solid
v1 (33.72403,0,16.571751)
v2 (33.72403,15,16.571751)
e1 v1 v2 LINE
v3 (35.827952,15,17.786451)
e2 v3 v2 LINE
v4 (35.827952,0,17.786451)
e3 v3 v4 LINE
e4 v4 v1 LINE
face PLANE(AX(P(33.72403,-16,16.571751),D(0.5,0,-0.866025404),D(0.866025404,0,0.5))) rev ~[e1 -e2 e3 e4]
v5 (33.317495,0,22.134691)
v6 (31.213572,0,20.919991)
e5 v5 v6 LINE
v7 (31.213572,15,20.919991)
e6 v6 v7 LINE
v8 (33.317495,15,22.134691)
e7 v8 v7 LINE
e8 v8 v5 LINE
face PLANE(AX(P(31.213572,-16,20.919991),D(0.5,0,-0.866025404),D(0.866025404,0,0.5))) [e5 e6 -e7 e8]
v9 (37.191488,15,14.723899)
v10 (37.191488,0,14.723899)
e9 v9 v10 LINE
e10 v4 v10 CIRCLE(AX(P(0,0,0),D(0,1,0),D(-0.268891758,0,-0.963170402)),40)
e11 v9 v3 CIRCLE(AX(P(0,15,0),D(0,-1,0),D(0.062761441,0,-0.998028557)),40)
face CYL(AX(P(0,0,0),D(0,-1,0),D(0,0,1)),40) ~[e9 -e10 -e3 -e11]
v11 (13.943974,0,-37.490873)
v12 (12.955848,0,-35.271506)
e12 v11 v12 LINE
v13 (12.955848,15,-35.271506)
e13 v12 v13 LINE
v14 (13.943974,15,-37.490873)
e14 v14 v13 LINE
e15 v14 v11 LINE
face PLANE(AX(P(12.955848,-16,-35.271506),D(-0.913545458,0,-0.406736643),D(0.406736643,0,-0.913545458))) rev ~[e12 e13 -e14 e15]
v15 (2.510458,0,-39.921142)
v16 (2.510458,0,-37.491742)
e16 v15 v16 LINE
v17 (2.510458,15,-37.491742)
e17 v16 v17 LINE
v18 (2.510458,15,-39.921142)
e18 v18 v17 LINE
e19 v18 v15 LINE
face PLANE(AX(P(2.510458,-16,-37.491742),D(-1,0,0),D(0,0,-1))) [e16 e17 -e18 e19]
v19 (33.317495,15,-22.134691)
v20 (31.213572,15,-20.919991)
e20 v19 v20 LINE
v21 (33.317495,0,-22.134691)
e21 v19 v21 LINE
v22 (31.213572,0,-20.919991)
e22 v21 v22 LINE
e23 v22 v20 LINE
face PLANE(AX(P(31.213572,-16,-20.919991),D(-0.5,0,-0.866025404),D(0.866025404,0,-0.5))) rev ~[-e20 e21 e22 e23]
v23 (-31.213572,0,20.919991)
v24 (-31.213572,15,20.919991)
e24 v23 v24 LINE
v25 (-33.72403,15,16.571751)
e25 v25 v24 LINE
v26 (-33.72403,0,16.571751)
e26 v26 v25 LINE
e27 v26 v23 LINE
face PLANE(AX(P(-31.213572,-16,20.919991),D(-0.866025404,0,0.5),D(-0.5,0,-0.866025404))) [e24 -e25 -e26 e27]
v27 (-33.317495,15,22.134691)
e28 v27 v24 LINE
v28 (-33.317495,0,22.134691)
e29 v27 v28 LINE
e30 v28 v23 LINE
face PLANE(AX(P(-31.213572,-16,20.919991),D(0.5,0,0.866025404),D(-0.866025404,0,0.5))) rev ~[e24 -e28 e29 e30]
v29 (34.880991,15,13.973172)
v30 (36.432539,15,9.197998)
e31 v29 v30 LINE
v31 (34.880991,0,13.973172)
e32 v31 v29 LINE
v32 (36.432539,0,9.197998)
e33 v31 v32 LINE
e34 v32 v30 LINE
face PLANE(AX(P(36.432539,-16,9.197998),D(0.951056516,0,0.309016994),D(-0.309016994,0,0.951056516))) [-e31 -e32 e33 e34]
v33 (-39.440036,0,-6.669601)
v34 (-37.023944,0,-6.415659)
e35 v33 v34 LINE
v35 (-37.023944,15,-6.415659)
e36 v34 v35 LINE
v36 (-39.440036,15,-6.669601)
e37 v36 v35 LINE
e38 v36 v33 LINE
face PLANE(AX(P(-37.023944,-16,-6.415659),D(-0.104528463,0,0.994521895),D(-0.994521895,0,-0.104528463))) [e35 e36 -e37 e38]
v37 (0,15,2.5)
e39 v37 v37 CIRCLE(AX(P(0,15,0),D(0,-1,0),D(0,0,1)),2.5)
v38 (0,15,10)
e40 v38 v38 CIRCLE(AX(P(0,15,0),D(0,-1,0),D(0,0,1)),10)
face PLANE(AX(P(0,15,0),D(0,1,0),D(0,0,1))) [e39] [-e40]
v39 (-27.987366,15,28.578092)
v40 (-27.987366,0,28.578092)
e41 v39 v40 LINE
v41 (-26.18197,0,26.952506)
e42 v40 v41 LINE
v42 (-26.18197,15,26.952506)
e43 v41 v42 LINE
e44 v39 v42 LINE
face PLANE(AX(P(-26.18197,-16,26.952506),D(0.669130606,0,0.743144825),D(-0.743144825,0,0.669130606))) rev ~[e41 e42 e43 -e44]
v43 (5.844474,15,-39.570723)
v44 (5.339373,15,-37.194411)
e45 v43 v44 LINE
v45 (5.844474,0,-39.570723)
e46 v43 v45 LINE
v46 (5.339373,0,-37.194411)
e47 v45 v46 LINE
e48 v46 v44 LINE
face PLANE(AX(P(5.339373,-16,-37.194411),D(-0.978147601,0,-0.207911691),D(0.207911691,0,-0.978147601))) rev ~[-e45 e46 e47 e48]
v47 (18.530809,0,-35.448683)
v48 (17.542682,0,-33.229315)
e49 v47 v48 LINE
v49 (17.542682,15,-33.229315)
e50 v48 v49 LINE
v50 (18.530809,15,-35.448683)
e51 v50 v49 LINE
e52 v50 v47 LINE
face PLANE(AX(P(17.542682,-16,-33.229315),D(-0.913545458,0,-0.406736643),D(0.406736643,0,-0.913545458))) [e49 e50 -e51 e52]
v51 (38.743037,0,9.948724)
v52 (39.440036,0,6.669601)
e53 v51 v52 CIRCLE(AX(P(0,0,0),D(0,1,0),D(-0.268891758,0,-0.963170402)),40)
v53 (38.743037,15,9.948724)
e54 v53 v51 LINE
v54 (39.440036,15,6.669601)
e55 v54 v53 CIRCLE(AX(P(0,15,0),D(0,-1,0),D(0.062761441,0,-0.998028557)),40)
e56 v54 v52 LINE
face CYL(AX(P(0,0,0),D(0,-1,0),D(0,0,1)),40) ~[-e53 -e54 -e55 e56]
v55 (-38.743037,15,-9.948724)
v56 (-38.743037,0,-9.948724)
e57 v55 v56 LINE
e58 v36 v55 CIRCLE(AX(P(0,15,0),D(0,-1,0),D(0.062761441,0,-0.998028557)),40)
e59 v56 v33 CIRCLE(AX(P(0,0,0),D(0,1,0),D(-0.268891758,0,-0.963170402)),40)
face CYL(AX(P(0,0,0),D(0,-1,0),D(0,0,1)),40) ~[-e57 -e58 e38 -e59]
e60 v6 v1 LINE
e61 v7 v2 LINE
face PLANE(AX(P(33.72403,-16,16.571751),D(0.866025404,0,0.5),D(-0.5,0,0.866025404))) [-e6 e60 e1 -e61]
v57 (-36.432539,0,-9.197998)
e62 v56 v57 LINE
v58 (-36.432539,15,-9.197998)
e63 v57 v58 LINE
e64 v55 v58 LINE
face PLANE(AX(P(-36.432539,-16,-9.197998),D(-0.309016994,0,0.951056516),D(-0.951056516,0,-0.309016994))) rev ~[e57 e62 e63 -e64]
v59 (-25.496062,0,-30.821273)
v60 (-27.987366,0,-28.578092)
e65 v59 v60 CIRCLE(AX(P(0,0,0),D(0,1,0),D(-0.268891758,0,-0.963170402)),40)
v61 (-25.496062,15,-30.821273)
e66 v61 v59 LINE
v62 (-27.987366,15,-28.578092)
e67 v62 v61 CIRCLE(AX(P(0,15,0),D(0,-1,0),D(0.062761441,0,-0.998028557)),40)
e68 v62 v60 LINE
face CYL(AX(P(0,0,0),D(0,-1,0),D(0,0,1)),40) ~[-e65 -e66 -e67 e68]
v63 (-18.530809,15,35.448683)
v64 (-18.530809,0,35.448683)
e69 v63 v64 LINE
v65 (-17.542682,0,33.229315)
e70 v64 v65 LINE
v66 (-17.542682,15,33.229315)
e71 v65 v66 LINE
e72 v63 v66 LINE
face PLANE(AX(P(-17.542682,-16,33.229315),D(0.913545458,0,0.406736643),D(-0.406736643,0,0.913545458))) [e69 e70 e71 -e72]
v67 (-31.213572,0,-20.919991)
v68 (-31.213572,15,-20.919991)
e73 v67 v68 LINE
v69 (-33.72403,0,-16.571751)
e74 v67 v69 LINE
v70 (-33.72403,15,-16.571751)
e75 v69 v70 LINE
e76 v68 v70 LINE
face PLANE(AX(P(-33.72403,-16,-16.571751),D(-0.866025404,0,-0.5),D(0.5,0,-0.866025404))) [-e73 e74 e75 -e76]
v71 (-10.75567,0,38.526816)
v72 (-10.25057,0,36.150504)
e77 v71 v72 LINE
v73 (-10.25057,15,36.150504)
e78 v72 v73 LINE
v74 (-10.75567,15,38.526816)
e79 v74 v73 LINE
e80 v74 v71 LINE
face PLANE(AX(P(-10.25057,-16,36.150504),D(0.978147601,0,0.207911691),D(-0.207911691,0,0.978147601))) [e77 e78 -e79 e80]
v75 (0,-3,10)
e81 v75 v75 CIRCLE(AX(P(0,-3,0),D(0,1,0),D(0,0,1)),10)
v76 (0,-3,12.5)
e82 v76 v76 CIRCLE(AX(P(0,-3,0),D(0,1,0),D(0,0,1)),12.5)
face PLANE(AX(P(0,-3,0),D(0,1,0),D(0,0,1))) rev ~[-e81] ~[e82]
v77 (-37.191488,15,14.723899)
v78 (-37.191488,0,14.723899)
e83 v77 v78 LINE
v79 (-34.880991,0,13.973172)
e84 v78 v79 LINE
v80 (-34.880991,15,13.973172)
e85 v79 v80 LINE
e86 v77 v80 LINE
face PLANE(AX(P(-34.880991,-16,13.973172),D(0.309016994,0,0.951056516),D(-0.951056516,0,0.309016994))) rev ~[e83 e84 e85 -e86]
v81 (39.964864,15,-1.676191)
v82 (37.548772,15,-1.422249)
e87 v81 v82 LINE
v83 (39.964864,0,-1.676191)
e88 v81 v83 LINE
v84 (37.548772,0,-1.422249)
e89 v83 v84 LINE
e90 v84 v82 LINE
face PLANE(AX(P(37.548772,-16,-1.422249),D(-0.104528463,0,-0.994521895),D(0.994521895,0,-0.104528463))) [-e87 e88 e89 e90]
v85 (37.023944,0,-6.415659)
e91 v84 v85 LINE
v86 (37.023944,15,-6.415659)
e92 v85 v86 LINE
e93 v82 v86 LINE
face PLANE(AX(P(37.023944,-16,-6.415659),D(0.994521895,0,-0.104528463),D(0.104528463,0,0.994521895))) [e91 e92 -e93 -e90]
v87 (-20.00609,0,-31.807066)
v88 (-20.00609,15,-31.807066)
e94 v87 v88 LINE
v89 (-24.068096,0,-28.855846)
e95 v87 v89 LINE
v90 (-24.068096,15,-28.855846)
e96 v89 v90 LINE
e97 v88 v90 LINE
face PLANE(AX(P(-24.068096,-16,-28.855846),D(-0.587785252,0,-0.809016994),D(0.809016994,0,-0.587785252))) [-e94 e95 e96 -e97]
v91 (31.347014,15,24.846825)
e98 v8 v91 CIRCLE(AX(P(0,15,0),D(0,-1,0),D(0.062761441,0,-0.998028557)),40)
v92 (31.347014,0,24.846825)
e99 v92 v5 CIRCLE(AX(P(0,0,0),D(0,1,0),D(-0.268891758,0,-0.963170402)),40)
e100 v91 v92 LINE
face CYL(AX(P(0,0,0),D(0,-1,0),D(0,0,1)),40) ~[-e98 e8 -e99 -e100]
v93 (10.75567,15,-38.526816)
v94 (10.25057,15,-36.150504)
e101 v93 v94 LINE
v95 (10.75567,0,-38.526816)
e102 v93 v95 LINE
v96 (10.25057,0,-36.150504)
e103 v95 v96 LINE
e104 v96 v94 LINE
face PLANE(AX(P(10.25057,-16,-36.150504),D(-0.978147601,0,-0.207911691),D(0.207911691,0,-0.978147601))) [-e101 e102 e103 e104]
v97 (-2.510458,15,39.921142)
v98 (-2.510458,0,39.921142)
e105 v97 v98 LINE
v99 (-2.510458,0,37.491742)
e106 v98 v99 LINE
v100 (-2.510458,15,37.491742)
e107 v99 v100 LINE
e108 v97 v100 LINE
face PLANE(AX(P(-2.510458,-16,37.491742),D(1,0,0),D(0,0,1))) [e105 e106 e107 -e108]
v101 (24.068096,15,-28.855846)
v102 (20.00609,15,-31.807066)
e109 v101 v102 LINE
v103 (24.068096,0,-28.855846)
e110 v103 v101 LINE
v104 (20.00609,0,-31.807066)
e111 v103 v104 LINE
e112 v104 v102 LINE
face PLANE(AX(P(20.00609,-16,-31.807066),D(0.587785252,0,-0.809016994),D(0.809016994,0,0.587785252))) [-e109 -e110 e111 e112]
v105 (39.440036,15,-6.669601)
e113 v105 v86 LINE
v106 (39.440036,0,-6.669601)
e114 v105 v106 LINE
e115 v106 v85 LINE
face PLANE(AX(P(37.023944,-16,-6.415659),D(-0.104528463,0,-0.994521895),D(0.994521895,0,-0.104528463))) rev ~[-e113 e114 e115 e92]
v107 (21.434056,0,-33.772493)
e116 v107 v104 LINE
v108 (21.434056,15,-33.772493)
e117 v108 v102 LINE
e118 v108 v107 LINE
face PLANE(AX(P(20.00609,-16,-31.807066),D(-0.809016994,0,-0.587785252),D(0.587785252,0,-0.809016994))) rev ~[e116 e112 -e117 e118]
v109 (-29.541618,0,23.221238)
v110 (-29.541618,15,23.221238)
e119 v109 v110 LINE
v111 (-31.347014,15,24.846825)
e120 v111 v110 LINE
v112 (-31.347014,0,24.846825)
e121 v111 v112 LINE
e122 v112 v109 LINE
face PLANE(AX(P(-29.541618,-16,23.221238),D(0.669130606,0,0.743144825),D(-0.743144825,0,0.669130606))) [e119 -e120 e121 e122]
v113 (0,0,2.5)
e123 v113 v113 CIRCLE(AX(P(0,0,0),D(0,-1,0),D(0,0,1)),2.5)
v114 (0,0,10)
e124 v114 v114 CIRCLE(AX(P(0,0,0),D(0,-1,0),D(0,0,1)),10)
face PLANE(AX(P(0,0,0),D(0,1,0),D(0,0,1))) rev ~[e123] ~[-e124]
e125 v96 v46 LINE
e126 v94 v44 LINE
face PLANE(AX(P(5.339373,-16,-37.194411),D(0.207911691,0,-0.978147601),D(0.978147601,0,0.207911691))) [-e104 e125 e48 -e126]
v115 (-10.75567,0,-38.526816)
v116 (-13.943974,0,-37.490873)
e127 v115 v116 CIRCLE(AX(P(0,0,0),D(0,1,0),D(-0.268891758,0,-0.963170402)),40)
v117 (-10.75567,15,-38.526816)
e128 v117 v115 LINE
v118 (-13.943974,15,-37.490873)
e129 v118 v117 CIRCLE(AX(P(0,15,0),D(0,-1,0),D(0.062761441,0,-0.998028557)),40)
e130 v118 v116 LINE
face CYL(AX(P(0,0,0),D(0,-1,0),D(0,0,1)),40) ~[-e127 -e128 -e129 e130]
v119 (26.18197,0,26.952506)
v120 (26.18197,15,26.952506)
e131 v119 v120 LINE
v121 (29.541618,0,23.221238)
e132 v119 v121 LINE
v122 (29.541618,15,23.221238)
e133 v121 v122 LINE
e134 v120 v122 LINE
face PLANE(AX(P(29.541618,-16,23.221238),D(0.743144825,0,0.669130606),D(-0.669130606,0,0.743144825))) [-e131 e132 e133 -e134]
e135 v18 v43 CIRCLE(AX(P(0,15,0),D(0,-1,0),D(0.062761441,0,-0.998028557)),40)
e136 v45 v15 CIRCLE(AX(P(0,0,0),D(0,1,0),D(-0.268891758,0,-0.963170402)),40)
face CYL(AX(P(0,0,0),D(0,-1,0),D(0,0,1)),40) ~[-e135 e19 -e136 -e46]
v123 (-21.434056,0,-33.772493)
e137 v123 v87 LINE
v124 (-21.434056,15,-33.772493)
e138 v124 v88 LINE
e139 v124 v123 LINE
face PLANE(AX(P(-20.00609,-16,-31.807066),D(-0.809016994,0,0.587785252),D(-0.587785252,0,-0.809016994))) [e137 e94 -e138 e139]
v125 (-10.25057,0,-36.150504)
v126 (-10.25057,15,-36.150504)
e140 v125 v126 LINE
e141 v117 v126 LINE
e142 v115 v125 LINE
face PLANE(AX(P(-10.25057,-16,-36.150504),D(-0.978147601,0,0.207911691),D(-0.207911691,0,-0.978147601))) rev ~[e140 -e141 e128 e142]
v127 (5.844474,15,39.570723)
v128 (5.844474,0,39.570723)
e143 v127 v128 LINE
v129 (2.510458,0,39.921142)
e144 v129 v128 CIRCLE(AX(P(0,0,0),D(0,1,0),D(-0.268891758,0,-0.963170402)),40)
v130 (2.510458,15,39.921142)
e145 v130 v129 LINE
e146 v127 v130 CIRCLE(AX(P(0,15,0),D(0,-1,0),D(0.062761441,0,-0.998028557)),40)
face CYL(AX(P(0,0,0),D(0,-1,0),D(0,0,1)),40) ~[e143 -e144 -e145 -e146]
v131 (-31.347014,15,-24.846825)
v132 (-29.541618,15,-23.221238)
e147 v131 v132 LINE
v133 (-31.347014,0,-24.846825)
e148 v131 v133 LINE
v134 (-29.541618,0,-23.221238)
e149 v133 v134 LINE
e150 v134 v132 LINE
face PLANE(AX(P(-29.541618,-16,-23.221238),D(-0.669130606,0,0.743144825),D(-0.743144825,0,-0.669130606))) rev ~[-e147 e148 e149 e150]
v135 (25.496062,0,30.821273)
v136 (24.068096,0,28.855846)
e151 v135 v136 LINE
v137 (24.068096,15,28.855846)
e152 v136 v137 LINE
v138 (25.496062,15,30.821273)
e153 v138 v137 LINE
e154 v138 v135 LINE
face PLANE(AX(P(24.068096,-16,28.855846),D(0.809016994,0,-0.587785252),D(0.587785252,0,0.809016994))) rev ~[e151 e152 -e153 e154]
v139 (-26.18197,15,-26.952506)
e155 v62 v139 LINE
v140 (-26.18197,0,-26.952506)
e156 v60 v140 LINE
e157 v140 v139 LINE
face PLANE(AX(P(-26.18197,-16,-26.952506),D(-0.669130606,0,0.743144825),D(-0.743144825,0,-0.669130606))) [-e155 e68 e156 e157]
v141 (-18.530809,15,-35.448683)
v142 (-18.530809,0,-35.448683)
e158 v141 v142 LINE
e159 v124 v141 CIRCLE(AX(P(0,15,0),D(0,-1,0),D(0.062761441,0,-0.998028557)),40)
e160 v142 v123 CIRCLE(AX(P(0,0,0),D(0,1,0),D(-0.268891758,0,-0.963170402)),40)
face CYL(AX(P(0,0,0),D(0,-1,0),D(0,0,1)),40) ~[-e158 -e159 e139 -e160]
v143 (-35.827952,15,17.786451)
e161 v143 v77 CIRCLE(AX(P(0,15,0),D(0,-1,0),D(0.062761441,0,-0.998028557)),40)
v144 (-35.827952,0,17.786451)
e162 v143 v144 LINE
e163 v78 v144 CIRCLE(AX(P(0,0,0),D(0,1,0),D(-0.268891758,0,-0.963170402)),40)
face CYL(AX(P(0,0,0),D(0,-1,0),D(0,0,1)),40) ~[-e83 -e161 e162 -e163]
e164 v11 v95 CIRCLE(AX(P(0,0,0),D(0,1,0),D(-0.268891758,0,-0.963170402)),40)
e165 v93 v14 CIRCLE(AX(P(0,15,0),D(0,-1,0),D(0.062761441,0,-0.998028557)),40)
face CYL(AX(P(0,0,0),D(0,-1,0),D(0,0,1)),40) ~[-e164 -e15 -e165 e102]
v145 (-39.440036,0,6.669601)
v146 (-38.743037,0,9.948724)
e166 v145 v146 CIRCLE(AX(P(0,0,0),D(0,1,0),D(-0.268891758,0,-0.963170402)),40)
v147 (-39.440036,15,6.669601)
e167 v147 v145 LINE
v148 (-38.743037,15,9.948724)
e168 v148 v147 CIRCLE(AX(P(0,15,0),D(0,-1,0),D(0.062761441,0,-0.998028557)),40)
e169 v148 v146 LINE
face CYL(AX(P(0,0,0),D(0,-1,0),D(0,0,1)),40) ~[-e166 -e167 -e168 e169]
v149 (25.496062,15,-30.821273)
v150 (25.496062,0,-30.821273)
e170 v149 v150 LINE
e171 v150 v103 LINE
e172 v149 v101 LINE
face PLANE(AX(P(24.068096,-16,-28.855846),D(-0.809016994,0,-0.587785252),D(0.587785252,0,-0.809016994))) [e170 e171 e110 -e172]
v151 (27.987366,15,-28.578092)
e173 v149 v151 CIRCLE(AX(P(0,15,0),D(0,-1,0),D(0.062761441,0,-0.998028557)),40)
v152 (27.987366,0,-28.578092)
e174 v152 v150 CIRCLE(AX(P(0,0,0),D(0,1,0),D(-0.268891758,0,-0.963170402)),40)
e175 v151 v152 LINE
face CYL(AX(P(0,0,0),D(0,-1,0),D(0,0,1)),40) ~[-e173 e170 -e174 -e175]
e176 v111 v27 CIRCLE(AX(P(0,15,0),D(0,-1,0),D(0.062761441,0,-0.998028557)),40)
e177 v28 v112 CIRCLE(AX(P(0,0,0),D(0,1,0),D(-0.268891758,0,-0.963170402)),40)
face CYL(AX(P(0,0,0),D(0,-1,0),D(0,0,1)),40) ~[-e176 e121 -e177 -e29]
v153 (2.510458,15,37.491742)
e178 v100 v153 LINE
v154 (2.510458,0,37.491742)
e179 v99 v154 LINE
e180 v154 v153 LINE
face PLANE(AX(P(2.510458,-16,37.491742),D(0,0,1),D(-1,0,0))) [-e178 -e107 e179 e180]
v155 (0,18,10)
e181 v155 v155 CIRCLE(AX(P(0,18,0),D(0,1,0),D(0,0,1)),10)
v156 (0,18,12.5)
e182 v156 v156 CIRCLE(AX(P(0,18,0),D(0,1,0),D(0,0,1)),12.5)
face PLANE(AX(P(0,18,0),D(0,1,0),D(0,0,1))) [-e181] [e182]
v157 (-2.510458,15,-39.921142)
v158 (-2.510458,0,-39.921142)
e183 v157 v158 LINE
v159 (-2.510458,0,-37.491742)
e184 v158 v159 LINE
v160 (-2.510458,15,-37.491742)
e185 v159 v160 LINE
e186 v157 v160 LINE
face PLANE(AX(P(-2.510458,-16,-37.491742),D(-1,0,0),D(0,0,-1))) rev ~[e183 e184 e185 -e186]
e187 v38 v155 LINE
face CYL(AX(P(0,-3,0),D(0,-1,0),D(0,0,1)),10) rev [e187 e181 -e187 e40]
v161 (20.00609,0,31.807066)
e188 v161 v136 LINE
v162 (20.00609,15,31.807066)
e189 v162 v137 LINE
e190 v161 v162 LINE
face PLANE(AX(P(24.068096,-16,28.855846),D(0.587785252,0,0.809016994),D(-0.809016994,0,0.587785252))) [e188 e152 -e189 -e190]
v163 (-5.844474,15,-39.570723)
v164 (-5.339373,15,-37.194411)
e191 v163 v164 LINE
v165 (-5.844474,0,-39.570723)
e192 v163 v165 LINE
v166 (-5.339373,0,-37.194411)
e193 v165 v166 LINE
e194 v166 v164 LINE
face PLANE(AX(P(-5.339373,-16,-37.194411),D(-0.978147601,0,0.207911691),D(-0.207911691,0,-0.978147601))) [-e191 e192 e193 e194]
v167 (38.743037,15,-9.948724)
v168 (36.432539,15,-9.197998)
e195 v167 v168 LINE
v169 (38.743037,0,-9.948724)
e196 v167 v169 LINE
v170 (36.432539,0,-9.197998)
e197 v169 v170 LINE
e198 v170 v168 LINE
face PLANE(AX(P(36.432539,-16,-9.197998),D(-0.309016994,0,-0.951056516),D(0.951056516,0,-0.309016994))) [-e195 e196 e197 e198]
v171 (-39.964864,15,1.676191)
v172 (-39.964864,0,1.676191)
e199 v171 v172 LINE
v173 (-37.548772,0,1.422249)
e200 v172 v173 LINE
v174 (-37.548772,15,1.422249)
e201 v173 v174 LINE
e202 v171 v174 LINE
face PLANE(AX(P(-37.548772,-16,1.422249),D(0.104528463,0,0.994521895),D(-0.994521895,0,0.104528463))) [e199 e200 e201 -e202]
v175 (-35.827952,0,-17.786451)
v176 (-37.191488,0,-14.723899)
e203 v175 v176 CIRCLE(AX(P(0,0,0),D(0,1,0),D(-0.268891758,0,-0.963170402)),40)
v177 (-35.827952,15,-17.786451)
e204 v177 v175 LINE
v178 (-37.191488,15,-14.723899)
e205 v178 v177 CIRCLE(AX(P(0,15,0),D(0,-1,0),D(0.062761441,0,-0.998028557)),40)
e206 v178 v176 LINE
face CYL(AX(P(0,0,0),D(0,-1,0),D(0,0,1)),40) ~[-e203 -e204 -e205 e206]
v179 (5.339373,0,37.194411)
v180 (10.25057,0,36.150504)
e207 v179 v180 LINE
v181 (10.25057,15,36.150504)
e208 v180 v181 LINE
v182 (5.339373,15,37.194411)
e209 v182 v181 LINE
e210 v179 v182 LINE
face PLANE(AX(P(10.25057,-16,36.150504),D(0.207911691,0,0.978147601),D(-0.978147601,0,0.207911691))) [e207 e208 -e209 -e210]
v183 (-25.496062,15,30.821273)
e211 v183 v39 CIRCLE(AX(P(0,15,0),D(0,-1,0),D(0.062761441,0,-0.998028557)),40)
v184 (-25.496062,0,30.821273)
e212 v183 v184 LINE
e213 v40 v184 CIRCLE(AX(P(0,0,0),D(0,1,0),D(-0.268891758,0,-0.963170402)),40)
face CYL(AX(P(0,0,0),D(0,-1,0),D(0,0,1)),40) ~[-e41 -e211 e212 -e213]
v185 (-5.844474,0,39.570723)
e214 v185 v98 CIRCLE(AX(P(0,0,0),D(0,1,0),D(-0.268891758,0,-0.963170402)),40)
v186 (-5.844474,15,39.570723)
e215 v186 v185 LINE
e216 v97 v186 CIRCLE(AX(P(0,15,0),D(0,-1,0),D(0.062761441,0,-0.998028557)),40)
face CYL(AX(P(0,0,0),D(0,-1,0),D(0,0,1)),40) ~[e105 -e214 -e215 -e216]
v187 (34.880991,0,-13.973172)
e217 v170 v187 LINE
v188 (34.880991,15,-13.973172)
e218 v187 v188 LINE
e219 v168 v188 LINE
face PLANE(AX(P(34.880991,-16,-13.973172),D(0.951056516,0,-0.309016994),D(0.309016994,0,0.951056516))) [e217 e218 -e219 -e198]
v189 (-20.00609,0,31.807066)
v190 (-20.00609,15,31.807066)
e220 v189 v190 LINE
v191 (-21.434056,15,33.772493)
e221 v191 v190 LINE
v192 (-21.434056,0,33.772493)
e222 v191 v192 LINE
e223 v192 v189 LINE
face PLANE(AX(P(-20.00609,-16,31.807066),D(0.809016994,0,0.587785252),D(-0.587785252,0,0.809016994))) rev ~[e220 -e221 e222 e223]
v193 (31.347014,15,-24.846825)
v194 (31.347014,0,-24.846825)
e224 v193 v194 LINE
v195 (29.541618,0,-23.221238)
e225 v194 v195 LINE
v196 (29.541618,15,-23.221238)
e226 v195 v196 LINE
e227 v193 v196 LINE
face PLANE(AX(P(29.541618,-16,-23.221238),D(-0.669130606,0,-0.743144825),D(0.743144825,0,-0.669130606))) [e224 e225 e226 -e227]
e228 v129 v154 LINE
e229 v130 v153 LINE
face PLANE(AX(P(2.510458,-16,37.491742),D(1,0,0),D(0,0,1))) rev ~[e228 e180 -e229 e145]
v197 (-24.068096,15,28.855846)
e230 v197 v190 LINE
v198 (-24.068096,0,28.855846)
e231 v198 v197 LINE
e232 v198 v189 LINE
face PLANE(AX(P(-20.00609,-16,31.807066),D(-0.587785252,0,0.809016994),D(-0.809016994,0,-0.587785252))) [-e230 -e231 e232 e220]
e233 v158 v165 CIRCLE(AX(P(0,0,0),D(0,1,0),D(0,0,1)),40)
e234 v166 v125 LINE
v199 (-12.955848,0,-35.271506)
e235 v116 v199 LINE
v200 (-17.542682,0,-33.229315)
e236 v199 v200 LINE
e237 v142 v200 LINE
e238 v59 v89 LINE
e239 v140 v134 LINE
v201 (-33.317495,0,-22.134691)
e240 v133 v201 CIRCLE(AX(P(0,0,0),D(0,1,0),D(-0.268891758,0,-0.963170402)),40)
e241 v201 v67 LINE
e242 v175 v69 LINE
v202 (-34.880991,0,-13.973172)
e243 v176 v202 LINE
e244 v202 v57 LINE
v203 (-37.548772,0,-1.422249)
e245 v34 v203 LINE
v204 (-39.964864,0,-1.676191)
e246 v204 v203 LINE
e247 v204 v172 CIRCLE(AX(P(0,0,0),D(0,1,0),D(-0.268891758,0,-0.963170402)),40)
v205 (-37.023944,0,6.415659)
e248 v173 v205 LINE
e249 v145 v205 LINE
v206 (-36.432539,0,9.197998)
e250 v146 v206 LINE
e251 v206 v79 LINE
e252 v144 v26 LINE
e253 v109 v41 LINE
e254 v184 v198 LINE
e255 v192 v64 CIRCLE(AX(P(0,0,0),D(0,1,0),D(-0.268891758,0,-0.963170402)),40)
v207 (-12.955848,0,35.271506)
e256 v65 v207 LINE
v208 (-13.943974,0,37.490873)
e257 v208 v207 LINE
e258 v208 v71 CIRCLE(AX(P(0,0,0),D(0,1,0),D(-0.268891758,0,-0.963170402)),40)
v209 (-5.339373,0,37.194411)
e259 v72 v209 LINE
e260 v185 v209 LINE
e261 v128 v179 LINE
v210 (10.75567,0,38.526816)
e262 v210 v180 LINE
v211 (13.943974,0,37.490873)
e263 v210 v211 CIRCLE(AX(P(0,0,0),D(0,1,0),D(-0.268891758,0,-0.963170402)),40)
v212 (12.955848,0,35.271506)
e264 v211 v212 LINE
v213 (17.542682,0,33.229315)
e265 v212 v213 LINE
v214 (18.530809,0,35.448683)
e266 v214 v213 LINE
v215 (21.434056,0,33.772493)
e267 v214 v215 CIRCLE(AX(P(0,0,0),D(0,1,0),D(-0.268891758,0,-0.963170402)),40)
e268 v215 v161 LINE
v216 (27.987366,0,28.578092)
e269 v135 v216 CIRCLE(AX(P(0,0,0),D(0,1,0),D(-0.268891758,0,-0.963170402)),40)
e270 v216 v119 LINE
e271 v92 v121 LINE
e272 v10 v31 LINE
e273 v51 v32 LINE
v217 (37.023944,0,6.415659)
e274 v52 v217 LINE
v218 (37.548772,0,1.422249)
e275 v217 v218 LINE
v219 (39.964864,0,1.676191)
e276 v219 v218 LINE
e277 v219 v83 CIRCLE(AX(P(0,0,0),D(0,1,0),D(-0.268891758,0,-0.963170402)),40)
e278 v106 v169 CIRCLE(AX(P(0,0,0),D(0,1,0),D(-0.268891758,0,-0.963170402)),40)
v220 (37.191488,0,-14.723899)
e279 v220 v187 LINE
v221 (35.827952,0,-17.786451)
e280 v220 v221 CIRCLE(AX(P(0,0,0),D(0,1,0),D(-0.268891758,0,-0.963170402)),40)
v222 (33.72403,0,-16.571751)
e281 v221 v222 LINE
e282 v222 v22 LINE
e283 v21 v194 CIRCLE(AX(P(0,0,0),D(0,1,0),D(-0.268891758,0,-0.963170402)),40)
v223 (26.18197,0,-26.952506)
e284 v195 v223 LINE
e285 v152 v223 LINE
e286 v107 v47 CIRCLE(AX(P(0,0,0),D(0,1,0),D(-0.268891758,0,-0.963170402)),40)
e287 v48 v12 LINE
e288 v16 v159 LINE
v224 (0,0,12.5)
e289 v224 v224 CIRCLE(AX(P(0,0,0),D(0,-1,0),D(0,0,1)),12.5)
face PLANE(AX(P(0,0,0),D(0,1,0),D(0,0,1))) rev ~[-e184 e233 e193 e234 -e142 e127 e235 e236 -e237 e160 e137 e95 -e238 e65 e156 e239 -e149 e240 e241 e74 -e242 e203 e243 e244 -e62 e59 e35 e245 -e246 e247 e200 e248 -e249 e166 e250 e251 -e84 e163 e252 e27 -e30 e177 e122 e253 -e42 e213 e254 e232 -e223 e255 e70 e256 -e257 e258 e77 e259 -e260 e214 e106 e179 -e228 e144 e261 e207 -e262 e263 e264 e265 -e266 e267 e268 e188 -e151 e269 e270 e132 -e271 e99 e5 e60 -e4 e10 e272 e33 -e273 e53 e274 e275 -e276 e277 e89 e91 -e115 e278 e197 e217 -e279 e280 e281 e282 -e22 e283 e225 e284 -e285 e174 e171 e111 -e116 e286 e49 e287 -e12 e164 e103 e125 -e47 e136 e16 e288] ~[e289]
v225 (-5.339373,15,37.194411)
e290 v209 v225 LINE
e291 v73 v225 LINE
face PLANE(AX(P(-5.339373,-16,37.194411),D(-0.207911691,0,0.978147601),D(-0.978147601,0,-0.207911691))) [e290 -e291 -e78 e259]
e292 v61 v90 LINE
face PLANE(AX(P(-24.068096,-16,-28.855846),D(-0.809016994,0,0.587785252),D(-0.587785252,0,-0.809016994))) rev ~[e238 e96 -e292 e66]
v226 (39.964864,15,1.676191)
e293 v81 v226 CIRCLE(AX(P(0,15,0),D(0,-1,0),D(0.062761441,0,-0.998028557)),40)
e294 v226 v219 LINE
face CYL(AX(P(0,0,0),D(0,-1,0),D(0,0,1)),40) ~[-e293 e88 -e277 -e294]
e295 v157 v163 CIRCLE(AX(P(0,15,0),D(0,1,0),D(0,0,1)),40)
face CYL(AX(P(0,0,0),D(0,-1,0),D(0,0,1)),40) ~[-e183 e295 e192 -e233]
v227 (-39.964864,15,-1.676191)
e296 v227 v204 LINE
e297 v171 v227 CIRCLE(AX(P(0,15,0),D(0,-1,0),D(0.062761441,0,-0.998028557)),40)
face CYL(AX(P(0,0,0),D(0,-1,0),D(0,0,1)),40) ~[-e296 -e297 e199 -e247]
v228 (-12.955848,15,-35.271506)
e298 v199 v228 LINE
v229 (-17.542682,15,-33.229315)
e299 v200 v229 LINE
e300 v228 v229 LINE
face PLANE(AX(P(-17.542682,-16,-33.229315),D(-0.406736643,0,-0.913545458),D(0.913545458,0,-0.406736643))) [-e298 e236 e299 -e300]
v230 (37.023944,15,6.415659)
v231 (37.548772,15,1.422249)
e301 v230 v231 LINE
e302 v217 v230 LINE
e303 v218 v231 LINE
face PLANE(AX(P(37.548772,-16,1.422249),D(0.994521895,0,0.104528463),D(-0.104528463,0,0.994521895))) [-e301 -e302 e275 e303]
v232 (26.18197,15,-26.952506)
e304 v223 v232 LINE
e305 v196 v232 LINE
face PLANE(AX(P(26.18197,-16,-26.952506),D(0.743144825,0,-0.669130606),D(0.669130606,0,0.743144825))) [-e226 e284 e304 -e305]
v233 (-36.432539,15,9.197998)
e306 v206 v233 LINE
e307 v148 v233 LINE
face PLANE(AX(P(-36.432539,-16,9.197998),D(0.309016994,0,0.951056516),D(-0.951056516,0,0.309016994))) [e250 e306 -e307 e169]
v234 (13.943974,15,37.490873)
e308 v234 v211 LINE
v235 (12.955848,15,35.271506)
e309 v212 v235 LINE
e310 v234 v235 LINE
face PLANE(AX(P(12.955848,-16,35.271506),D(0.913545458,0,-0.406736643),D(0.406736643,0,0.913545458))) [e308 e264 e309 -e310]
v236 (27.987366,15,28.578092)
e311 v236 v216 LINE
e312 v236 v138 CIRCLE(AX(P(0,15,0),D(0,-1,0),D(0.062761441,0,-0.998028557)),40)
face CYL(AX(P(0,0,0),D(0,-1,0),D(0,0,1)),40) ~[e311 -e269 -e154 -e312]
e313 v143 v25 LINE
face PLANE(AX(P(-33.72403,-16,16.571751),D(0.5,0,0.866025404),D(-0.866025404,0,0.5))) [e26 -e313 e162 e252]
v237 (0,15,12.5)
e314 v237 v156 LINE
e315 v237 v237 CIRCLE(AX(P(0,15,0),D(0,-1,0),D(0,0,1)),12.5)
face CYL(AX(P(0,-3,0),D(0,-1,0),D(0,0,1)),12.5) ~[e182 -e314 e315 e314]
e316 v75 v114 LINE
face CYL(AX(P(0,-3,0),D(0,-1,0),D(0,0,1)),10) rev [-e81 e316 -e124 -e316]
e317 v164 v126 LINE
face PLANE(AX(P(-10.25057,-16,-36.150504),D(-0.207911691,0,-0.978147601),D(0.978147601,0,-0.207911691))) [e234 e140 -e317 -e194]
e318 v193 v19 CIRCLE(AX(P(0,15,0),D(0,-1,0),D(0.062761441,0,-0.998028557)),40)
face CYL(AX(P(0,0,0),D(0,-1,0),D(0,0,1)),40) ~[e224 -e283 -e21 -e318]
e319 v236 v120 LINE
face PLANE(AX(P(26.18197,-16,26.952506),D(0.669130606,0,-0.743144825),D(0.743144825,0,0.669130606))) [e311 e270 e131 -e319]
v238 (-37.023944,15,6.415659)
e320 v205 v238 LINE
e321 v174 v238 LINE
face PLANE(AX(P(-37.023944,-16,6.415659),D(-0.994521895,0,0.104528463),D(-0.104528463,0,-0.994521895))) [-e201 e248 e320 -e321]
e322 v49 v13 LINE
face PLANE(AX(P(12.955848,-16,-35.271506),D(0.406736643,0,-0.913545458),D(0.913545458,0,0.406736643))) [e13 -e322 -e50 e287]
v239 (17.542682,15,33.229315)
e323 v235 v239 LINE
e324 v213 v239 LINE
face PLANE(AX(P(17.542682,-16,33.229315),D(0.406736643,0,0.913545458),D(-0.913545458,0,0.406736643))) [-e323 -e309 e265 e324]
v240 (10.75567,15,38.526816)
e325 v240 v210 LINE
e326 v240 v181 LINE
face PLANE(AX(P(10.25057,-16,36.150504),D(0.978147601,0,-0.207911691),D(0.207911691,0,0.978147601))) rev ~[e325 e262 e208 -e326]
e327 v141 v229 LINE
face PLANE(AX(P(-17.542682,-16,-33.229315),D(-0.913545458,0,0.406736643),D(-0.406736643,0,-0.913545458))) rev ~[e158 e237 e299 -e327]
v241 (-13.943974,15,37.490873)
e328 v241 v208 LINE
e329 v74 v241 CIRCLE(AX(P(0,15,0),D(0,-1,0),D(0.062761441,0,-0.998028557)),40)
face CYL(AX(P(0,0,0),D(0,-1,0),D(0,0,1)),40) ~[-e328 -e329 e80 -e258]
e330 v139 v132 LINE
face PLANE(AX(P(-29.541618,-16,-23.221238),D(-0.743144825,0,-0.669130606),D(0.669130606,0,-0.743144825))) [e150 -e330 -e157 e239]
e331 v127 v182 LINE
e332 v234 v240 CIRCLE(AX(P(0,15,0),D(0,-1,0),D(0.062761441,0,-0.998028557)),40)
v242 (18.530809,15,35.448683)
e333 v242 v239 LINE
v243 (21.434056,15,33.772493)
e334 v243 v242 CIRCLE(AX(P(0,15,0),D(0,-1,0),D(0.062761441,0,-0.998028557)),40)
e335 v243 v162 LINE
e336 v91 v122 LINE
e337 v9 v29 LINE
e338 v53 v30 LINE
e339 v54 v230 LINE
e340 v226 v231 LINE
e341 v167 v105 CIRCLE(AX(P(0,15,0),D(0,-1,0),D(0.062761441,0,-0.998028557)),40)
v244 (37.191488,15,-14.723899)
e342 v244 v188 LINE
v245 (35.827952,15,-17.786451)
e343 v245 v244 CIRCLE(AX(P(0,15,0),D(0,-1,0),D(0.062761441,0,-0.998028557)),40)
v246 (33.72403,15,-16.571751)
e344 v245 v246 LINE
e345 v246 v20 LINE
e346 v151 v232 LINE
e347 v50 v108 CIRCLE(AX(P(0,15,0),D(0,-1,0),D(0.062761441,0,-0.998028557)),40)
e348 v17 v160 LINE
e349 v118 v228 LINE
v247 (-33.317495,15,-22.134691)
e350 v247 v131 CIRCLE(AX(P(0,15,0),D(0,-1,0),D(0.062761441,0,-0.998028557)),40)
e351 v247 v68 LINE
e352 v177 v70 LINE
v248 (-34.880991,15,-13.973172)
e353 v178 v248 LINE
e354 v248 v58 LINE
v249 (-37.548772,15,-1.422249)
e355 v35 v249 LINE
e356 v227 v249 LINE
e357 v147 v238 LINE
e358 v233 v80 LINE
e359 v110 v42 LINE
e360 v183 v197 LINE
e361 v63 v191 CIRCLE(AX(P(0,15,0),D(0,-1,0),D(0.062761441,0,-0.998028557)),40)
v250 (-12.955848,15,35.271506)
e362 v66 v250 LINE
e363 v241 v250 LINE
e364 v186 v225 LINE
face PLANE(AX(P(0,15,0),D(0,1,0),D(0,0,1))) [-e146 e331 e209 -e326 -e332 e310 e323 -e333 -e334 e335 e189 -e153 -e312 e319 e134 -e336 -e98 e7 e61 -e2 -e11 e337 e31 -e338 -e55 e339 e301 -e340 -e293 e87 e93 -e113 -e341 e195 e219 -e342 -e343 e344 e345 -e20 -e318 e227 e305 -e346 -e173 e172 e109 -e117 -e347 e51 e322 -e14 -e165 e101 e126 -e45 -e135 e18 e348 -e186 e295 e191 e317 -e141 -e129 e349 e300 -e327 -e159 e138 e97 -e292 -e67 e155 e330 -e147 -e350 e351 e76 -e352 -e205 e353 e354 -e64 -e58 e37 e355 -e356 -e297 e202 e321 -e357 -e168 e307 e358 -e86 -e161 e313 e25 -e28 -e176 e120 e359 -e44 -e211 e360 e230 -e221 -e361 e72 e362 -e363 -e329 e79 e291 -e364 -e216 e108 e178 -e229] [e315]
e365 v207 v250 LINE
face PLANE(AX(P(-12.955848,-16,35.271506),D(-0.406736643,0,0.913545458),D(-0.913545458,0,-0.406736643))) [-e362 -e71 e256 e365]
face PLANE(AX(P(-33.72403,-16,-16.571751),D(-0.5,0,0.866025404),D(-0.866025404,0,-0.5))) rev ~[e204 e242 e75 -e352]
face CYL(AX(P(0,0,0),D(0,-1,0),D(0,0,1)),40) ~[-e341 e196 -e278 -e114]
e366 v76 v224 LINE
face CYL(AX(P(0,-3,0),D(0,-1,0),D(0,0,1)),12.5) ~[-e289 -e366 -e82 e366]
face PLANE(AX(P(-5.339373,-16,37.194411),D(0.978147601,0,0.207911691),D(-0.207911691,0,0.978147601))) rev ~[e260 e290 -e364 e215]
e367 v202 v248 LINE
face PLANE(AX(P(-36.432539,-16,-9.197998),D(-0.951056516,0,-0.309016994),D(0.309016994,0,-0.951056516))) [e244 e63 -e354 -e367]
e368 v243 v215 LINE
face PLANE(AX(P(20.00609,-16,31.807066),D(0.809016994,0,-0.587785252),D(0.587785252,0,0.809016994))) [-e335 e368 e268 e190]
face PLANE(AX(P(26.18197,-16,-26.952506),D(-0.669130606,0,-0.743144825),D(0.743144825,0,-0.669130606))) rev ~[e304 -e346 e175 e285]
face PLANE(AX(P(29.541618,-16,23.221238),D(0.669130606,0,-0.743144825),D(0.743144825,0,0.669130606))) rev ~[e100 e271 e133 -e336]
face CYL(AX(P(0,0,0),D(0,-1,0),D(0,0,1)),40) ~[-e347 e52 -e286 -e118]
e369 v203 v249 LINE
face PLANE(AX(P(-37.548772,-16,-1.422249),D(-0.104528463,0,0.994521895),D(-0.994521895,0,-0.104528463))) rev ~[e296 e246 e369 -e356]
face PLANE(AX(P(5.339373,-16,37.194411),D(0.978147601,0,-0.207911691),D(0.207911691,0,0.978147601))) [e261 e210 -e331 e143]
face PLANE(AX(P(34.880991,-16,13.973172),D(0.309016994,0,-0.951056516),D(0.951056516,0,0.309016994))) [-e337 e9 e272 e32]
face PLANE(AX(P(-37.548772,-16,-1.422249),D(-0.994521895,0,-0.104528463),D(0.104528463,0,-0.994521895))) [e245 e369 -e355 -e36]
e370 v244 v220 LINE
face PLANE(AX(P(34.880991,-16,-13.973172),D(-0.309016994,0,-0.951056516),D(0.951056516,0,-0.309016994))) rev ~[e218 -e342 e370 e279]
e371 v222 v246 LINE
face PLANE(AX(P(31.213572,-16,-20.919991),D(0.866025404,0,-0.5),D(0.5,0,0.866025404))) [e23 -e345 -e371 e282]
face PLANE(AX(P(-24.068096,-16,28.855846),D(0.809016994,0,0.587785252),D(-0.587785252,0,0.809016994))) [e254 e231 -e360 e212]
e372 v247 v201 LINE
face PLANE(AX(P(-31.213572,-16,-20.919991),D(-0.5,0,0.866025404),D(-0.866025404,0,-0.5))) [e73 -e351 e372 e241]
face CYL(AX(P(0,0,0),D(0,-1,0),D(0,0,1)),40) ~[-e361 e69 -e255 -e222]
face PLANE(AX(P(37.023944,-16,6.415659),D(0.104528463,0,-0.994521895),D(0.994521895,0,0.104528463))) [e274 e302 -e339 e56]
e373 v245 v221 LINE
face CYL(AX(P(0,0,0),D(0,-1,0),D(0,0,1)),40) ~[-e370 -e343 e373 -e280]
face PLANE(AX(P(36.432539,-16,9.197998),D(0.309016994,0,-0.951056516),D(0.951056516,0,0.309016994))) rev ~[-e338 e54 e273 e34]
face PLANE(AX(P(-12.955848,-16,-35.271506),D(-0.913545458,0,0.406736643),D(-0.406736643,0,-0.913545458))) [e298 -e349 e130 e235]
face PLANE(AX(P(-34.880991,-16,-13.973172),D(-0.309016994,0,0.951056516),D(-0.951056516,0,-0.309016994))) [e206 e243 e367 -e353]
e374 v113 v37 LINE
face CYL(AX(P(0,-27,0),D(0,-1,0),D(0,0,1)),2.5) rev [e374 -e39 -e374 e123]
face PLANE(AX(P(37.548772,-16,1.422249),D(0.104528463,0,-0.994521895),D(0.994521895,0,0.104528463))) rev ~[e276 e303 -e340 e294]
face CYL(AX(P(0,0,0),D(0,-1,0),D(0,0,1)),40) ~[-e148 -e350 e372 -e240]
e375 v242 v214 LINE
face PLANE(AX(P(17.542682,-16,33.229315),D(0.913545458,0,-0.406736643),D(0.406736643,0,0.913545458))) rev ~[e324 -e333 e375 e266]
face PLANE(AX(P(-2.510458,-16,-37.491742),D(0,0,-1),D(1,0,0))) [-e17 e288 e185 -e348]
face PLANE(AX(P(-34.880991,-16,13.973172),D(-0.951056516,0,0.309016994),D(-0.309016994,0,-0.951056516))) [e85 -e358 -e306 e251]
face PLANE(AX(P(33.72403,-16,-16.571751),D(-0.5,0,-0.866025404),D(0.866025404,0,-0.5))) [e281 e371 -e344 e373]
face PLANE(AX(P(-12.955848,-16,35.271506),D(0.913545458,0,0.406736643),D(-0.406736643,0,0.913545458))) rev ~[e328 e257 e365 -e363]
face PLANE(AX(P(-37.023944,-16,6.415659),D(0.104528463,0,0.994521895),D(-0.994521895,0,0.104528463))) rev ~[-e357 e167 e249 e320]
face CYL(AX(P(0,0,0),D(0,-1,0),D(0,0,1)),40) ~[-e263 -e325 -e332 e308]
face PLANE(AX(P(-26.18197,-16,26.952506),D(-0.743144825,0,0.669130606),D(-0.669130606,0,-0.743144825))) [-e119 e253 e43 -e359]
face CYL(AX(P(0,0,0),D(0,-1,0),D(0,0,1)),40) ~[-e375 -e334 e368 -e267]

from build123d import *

# Parameters (mm, degrees)
CROQUIS1_R                   = 40
SALIENTE_EXTRUIR1_DEPTH      = 15
CORTAR_EXTRUIR1_START        = -16
CROQUIS2_W                   = 5.020915278
CROQUIS2_H                   = 5.016516428
CORTAR_EXTRUIR1_DEPTH        = 68
MATRIZC1_COUNT               = 30
SALIENTE_EXTRUIR2_DEPTH      = 18
SALIENTE_EXTRUIR2_DEPTH_BACK = 3
CROQUIS3_R                   = 12.5
CROQUIS3_R_2                 = 10
CORTAR_EXTRUIR2_DEPTH        = 60
CORTAR_EXTRUIR2_DEPTH_BACK   = 27
CROQUIS4_R                   = 2.5


with BuildPart() as part:
    # Croquis1 → Saliente-Extruir1 (new body)
    with BuildSketch(Plane(origin=(0, 0, 0), x_dir=(1, 0, 0), z_dir=(0, 1, 0))):
        with Locations(Location((0, 0, 0), (0, 0, 270))):
            Circle(CROQUIS1_R)
    extrude(amount=SALIENTE_EXTRUIR1_DEPTH)

    # Croquis2 → Cortar-Extruir1 (cut)
    with BuildSketch(Plane(origin=(0, 0, 0), x_dir=(1, 0, 0), z_dir=(0, 1, 0)).offset(CORTAR_EXTRUIR1_START)):
        with Locations((0, 40)):
            Rectangle(CROQUIS2_W, CROQUIS2_H)
    cortar_extruir1 = extrude(amount=CORTAR_EXTRUIR1_DEPTH, mode=Mode.SUBTRACT)

    # MatrizC1: Cortar-Extruir1 ×30 about axis
    matrizc1_axis = Axis((0, 0, 0), (0, 1, 0))
    for i in range(1, MATRIZC1_COUNT):
        add(cortar_extruir1.rotate(matrizc1_axis, i * 360 / MATRIZC1_COUNT), mode=Mode.SUBTRACT)

    # Croquis3 → Saliente-Extruir2 (add, two sides: drawn at the far end of the back side and taken through both)
    with BuildSketch(Plane(origin=(0, 0, 0), x_dir=(1, 0, 0), z_dir=(0, 1, 0)).offset(-SALIENTE_EXTRUIR2_DEPTH_BACK)):
        with Locations(Location((0, 0, 0), (0, 0, 270))):
            Circle(CROQUIS3_R)
        with Locations(Location((0, 0, 0), (0, 0, 270))):
            Circle(CROQUIS3_R_2, mode=Mode.SUBTRACT)
    extrude(amount=SALIENTE_EXTRUIR2_DEPTH + SALIENTE_EXTRUIR2_DEPTH_BACK)

    # Croquis4 → Cortar-Extruir2 (cut, two sides: drawn at the far end of the back side and taken through both)
    with BuildSketch(Plane(origin=(0, 0, 0), x_dir=(1, 0, 0), z_dir=(0, 1, 0)).offset(-CORTAR_EXTRUIR2_DEPTH_BACK)):
        with Locations(Location((0, 0, 0), (0, 0, 270))):
            Circle(CROQUIS4_R)
    extrude(amount=CORTAR_EXTRUIR2_DEPTH + CORTAR_EXTRUIR2_DEPTH_BACK, mode=Mode.SUBTRACT)


solid = part.part
